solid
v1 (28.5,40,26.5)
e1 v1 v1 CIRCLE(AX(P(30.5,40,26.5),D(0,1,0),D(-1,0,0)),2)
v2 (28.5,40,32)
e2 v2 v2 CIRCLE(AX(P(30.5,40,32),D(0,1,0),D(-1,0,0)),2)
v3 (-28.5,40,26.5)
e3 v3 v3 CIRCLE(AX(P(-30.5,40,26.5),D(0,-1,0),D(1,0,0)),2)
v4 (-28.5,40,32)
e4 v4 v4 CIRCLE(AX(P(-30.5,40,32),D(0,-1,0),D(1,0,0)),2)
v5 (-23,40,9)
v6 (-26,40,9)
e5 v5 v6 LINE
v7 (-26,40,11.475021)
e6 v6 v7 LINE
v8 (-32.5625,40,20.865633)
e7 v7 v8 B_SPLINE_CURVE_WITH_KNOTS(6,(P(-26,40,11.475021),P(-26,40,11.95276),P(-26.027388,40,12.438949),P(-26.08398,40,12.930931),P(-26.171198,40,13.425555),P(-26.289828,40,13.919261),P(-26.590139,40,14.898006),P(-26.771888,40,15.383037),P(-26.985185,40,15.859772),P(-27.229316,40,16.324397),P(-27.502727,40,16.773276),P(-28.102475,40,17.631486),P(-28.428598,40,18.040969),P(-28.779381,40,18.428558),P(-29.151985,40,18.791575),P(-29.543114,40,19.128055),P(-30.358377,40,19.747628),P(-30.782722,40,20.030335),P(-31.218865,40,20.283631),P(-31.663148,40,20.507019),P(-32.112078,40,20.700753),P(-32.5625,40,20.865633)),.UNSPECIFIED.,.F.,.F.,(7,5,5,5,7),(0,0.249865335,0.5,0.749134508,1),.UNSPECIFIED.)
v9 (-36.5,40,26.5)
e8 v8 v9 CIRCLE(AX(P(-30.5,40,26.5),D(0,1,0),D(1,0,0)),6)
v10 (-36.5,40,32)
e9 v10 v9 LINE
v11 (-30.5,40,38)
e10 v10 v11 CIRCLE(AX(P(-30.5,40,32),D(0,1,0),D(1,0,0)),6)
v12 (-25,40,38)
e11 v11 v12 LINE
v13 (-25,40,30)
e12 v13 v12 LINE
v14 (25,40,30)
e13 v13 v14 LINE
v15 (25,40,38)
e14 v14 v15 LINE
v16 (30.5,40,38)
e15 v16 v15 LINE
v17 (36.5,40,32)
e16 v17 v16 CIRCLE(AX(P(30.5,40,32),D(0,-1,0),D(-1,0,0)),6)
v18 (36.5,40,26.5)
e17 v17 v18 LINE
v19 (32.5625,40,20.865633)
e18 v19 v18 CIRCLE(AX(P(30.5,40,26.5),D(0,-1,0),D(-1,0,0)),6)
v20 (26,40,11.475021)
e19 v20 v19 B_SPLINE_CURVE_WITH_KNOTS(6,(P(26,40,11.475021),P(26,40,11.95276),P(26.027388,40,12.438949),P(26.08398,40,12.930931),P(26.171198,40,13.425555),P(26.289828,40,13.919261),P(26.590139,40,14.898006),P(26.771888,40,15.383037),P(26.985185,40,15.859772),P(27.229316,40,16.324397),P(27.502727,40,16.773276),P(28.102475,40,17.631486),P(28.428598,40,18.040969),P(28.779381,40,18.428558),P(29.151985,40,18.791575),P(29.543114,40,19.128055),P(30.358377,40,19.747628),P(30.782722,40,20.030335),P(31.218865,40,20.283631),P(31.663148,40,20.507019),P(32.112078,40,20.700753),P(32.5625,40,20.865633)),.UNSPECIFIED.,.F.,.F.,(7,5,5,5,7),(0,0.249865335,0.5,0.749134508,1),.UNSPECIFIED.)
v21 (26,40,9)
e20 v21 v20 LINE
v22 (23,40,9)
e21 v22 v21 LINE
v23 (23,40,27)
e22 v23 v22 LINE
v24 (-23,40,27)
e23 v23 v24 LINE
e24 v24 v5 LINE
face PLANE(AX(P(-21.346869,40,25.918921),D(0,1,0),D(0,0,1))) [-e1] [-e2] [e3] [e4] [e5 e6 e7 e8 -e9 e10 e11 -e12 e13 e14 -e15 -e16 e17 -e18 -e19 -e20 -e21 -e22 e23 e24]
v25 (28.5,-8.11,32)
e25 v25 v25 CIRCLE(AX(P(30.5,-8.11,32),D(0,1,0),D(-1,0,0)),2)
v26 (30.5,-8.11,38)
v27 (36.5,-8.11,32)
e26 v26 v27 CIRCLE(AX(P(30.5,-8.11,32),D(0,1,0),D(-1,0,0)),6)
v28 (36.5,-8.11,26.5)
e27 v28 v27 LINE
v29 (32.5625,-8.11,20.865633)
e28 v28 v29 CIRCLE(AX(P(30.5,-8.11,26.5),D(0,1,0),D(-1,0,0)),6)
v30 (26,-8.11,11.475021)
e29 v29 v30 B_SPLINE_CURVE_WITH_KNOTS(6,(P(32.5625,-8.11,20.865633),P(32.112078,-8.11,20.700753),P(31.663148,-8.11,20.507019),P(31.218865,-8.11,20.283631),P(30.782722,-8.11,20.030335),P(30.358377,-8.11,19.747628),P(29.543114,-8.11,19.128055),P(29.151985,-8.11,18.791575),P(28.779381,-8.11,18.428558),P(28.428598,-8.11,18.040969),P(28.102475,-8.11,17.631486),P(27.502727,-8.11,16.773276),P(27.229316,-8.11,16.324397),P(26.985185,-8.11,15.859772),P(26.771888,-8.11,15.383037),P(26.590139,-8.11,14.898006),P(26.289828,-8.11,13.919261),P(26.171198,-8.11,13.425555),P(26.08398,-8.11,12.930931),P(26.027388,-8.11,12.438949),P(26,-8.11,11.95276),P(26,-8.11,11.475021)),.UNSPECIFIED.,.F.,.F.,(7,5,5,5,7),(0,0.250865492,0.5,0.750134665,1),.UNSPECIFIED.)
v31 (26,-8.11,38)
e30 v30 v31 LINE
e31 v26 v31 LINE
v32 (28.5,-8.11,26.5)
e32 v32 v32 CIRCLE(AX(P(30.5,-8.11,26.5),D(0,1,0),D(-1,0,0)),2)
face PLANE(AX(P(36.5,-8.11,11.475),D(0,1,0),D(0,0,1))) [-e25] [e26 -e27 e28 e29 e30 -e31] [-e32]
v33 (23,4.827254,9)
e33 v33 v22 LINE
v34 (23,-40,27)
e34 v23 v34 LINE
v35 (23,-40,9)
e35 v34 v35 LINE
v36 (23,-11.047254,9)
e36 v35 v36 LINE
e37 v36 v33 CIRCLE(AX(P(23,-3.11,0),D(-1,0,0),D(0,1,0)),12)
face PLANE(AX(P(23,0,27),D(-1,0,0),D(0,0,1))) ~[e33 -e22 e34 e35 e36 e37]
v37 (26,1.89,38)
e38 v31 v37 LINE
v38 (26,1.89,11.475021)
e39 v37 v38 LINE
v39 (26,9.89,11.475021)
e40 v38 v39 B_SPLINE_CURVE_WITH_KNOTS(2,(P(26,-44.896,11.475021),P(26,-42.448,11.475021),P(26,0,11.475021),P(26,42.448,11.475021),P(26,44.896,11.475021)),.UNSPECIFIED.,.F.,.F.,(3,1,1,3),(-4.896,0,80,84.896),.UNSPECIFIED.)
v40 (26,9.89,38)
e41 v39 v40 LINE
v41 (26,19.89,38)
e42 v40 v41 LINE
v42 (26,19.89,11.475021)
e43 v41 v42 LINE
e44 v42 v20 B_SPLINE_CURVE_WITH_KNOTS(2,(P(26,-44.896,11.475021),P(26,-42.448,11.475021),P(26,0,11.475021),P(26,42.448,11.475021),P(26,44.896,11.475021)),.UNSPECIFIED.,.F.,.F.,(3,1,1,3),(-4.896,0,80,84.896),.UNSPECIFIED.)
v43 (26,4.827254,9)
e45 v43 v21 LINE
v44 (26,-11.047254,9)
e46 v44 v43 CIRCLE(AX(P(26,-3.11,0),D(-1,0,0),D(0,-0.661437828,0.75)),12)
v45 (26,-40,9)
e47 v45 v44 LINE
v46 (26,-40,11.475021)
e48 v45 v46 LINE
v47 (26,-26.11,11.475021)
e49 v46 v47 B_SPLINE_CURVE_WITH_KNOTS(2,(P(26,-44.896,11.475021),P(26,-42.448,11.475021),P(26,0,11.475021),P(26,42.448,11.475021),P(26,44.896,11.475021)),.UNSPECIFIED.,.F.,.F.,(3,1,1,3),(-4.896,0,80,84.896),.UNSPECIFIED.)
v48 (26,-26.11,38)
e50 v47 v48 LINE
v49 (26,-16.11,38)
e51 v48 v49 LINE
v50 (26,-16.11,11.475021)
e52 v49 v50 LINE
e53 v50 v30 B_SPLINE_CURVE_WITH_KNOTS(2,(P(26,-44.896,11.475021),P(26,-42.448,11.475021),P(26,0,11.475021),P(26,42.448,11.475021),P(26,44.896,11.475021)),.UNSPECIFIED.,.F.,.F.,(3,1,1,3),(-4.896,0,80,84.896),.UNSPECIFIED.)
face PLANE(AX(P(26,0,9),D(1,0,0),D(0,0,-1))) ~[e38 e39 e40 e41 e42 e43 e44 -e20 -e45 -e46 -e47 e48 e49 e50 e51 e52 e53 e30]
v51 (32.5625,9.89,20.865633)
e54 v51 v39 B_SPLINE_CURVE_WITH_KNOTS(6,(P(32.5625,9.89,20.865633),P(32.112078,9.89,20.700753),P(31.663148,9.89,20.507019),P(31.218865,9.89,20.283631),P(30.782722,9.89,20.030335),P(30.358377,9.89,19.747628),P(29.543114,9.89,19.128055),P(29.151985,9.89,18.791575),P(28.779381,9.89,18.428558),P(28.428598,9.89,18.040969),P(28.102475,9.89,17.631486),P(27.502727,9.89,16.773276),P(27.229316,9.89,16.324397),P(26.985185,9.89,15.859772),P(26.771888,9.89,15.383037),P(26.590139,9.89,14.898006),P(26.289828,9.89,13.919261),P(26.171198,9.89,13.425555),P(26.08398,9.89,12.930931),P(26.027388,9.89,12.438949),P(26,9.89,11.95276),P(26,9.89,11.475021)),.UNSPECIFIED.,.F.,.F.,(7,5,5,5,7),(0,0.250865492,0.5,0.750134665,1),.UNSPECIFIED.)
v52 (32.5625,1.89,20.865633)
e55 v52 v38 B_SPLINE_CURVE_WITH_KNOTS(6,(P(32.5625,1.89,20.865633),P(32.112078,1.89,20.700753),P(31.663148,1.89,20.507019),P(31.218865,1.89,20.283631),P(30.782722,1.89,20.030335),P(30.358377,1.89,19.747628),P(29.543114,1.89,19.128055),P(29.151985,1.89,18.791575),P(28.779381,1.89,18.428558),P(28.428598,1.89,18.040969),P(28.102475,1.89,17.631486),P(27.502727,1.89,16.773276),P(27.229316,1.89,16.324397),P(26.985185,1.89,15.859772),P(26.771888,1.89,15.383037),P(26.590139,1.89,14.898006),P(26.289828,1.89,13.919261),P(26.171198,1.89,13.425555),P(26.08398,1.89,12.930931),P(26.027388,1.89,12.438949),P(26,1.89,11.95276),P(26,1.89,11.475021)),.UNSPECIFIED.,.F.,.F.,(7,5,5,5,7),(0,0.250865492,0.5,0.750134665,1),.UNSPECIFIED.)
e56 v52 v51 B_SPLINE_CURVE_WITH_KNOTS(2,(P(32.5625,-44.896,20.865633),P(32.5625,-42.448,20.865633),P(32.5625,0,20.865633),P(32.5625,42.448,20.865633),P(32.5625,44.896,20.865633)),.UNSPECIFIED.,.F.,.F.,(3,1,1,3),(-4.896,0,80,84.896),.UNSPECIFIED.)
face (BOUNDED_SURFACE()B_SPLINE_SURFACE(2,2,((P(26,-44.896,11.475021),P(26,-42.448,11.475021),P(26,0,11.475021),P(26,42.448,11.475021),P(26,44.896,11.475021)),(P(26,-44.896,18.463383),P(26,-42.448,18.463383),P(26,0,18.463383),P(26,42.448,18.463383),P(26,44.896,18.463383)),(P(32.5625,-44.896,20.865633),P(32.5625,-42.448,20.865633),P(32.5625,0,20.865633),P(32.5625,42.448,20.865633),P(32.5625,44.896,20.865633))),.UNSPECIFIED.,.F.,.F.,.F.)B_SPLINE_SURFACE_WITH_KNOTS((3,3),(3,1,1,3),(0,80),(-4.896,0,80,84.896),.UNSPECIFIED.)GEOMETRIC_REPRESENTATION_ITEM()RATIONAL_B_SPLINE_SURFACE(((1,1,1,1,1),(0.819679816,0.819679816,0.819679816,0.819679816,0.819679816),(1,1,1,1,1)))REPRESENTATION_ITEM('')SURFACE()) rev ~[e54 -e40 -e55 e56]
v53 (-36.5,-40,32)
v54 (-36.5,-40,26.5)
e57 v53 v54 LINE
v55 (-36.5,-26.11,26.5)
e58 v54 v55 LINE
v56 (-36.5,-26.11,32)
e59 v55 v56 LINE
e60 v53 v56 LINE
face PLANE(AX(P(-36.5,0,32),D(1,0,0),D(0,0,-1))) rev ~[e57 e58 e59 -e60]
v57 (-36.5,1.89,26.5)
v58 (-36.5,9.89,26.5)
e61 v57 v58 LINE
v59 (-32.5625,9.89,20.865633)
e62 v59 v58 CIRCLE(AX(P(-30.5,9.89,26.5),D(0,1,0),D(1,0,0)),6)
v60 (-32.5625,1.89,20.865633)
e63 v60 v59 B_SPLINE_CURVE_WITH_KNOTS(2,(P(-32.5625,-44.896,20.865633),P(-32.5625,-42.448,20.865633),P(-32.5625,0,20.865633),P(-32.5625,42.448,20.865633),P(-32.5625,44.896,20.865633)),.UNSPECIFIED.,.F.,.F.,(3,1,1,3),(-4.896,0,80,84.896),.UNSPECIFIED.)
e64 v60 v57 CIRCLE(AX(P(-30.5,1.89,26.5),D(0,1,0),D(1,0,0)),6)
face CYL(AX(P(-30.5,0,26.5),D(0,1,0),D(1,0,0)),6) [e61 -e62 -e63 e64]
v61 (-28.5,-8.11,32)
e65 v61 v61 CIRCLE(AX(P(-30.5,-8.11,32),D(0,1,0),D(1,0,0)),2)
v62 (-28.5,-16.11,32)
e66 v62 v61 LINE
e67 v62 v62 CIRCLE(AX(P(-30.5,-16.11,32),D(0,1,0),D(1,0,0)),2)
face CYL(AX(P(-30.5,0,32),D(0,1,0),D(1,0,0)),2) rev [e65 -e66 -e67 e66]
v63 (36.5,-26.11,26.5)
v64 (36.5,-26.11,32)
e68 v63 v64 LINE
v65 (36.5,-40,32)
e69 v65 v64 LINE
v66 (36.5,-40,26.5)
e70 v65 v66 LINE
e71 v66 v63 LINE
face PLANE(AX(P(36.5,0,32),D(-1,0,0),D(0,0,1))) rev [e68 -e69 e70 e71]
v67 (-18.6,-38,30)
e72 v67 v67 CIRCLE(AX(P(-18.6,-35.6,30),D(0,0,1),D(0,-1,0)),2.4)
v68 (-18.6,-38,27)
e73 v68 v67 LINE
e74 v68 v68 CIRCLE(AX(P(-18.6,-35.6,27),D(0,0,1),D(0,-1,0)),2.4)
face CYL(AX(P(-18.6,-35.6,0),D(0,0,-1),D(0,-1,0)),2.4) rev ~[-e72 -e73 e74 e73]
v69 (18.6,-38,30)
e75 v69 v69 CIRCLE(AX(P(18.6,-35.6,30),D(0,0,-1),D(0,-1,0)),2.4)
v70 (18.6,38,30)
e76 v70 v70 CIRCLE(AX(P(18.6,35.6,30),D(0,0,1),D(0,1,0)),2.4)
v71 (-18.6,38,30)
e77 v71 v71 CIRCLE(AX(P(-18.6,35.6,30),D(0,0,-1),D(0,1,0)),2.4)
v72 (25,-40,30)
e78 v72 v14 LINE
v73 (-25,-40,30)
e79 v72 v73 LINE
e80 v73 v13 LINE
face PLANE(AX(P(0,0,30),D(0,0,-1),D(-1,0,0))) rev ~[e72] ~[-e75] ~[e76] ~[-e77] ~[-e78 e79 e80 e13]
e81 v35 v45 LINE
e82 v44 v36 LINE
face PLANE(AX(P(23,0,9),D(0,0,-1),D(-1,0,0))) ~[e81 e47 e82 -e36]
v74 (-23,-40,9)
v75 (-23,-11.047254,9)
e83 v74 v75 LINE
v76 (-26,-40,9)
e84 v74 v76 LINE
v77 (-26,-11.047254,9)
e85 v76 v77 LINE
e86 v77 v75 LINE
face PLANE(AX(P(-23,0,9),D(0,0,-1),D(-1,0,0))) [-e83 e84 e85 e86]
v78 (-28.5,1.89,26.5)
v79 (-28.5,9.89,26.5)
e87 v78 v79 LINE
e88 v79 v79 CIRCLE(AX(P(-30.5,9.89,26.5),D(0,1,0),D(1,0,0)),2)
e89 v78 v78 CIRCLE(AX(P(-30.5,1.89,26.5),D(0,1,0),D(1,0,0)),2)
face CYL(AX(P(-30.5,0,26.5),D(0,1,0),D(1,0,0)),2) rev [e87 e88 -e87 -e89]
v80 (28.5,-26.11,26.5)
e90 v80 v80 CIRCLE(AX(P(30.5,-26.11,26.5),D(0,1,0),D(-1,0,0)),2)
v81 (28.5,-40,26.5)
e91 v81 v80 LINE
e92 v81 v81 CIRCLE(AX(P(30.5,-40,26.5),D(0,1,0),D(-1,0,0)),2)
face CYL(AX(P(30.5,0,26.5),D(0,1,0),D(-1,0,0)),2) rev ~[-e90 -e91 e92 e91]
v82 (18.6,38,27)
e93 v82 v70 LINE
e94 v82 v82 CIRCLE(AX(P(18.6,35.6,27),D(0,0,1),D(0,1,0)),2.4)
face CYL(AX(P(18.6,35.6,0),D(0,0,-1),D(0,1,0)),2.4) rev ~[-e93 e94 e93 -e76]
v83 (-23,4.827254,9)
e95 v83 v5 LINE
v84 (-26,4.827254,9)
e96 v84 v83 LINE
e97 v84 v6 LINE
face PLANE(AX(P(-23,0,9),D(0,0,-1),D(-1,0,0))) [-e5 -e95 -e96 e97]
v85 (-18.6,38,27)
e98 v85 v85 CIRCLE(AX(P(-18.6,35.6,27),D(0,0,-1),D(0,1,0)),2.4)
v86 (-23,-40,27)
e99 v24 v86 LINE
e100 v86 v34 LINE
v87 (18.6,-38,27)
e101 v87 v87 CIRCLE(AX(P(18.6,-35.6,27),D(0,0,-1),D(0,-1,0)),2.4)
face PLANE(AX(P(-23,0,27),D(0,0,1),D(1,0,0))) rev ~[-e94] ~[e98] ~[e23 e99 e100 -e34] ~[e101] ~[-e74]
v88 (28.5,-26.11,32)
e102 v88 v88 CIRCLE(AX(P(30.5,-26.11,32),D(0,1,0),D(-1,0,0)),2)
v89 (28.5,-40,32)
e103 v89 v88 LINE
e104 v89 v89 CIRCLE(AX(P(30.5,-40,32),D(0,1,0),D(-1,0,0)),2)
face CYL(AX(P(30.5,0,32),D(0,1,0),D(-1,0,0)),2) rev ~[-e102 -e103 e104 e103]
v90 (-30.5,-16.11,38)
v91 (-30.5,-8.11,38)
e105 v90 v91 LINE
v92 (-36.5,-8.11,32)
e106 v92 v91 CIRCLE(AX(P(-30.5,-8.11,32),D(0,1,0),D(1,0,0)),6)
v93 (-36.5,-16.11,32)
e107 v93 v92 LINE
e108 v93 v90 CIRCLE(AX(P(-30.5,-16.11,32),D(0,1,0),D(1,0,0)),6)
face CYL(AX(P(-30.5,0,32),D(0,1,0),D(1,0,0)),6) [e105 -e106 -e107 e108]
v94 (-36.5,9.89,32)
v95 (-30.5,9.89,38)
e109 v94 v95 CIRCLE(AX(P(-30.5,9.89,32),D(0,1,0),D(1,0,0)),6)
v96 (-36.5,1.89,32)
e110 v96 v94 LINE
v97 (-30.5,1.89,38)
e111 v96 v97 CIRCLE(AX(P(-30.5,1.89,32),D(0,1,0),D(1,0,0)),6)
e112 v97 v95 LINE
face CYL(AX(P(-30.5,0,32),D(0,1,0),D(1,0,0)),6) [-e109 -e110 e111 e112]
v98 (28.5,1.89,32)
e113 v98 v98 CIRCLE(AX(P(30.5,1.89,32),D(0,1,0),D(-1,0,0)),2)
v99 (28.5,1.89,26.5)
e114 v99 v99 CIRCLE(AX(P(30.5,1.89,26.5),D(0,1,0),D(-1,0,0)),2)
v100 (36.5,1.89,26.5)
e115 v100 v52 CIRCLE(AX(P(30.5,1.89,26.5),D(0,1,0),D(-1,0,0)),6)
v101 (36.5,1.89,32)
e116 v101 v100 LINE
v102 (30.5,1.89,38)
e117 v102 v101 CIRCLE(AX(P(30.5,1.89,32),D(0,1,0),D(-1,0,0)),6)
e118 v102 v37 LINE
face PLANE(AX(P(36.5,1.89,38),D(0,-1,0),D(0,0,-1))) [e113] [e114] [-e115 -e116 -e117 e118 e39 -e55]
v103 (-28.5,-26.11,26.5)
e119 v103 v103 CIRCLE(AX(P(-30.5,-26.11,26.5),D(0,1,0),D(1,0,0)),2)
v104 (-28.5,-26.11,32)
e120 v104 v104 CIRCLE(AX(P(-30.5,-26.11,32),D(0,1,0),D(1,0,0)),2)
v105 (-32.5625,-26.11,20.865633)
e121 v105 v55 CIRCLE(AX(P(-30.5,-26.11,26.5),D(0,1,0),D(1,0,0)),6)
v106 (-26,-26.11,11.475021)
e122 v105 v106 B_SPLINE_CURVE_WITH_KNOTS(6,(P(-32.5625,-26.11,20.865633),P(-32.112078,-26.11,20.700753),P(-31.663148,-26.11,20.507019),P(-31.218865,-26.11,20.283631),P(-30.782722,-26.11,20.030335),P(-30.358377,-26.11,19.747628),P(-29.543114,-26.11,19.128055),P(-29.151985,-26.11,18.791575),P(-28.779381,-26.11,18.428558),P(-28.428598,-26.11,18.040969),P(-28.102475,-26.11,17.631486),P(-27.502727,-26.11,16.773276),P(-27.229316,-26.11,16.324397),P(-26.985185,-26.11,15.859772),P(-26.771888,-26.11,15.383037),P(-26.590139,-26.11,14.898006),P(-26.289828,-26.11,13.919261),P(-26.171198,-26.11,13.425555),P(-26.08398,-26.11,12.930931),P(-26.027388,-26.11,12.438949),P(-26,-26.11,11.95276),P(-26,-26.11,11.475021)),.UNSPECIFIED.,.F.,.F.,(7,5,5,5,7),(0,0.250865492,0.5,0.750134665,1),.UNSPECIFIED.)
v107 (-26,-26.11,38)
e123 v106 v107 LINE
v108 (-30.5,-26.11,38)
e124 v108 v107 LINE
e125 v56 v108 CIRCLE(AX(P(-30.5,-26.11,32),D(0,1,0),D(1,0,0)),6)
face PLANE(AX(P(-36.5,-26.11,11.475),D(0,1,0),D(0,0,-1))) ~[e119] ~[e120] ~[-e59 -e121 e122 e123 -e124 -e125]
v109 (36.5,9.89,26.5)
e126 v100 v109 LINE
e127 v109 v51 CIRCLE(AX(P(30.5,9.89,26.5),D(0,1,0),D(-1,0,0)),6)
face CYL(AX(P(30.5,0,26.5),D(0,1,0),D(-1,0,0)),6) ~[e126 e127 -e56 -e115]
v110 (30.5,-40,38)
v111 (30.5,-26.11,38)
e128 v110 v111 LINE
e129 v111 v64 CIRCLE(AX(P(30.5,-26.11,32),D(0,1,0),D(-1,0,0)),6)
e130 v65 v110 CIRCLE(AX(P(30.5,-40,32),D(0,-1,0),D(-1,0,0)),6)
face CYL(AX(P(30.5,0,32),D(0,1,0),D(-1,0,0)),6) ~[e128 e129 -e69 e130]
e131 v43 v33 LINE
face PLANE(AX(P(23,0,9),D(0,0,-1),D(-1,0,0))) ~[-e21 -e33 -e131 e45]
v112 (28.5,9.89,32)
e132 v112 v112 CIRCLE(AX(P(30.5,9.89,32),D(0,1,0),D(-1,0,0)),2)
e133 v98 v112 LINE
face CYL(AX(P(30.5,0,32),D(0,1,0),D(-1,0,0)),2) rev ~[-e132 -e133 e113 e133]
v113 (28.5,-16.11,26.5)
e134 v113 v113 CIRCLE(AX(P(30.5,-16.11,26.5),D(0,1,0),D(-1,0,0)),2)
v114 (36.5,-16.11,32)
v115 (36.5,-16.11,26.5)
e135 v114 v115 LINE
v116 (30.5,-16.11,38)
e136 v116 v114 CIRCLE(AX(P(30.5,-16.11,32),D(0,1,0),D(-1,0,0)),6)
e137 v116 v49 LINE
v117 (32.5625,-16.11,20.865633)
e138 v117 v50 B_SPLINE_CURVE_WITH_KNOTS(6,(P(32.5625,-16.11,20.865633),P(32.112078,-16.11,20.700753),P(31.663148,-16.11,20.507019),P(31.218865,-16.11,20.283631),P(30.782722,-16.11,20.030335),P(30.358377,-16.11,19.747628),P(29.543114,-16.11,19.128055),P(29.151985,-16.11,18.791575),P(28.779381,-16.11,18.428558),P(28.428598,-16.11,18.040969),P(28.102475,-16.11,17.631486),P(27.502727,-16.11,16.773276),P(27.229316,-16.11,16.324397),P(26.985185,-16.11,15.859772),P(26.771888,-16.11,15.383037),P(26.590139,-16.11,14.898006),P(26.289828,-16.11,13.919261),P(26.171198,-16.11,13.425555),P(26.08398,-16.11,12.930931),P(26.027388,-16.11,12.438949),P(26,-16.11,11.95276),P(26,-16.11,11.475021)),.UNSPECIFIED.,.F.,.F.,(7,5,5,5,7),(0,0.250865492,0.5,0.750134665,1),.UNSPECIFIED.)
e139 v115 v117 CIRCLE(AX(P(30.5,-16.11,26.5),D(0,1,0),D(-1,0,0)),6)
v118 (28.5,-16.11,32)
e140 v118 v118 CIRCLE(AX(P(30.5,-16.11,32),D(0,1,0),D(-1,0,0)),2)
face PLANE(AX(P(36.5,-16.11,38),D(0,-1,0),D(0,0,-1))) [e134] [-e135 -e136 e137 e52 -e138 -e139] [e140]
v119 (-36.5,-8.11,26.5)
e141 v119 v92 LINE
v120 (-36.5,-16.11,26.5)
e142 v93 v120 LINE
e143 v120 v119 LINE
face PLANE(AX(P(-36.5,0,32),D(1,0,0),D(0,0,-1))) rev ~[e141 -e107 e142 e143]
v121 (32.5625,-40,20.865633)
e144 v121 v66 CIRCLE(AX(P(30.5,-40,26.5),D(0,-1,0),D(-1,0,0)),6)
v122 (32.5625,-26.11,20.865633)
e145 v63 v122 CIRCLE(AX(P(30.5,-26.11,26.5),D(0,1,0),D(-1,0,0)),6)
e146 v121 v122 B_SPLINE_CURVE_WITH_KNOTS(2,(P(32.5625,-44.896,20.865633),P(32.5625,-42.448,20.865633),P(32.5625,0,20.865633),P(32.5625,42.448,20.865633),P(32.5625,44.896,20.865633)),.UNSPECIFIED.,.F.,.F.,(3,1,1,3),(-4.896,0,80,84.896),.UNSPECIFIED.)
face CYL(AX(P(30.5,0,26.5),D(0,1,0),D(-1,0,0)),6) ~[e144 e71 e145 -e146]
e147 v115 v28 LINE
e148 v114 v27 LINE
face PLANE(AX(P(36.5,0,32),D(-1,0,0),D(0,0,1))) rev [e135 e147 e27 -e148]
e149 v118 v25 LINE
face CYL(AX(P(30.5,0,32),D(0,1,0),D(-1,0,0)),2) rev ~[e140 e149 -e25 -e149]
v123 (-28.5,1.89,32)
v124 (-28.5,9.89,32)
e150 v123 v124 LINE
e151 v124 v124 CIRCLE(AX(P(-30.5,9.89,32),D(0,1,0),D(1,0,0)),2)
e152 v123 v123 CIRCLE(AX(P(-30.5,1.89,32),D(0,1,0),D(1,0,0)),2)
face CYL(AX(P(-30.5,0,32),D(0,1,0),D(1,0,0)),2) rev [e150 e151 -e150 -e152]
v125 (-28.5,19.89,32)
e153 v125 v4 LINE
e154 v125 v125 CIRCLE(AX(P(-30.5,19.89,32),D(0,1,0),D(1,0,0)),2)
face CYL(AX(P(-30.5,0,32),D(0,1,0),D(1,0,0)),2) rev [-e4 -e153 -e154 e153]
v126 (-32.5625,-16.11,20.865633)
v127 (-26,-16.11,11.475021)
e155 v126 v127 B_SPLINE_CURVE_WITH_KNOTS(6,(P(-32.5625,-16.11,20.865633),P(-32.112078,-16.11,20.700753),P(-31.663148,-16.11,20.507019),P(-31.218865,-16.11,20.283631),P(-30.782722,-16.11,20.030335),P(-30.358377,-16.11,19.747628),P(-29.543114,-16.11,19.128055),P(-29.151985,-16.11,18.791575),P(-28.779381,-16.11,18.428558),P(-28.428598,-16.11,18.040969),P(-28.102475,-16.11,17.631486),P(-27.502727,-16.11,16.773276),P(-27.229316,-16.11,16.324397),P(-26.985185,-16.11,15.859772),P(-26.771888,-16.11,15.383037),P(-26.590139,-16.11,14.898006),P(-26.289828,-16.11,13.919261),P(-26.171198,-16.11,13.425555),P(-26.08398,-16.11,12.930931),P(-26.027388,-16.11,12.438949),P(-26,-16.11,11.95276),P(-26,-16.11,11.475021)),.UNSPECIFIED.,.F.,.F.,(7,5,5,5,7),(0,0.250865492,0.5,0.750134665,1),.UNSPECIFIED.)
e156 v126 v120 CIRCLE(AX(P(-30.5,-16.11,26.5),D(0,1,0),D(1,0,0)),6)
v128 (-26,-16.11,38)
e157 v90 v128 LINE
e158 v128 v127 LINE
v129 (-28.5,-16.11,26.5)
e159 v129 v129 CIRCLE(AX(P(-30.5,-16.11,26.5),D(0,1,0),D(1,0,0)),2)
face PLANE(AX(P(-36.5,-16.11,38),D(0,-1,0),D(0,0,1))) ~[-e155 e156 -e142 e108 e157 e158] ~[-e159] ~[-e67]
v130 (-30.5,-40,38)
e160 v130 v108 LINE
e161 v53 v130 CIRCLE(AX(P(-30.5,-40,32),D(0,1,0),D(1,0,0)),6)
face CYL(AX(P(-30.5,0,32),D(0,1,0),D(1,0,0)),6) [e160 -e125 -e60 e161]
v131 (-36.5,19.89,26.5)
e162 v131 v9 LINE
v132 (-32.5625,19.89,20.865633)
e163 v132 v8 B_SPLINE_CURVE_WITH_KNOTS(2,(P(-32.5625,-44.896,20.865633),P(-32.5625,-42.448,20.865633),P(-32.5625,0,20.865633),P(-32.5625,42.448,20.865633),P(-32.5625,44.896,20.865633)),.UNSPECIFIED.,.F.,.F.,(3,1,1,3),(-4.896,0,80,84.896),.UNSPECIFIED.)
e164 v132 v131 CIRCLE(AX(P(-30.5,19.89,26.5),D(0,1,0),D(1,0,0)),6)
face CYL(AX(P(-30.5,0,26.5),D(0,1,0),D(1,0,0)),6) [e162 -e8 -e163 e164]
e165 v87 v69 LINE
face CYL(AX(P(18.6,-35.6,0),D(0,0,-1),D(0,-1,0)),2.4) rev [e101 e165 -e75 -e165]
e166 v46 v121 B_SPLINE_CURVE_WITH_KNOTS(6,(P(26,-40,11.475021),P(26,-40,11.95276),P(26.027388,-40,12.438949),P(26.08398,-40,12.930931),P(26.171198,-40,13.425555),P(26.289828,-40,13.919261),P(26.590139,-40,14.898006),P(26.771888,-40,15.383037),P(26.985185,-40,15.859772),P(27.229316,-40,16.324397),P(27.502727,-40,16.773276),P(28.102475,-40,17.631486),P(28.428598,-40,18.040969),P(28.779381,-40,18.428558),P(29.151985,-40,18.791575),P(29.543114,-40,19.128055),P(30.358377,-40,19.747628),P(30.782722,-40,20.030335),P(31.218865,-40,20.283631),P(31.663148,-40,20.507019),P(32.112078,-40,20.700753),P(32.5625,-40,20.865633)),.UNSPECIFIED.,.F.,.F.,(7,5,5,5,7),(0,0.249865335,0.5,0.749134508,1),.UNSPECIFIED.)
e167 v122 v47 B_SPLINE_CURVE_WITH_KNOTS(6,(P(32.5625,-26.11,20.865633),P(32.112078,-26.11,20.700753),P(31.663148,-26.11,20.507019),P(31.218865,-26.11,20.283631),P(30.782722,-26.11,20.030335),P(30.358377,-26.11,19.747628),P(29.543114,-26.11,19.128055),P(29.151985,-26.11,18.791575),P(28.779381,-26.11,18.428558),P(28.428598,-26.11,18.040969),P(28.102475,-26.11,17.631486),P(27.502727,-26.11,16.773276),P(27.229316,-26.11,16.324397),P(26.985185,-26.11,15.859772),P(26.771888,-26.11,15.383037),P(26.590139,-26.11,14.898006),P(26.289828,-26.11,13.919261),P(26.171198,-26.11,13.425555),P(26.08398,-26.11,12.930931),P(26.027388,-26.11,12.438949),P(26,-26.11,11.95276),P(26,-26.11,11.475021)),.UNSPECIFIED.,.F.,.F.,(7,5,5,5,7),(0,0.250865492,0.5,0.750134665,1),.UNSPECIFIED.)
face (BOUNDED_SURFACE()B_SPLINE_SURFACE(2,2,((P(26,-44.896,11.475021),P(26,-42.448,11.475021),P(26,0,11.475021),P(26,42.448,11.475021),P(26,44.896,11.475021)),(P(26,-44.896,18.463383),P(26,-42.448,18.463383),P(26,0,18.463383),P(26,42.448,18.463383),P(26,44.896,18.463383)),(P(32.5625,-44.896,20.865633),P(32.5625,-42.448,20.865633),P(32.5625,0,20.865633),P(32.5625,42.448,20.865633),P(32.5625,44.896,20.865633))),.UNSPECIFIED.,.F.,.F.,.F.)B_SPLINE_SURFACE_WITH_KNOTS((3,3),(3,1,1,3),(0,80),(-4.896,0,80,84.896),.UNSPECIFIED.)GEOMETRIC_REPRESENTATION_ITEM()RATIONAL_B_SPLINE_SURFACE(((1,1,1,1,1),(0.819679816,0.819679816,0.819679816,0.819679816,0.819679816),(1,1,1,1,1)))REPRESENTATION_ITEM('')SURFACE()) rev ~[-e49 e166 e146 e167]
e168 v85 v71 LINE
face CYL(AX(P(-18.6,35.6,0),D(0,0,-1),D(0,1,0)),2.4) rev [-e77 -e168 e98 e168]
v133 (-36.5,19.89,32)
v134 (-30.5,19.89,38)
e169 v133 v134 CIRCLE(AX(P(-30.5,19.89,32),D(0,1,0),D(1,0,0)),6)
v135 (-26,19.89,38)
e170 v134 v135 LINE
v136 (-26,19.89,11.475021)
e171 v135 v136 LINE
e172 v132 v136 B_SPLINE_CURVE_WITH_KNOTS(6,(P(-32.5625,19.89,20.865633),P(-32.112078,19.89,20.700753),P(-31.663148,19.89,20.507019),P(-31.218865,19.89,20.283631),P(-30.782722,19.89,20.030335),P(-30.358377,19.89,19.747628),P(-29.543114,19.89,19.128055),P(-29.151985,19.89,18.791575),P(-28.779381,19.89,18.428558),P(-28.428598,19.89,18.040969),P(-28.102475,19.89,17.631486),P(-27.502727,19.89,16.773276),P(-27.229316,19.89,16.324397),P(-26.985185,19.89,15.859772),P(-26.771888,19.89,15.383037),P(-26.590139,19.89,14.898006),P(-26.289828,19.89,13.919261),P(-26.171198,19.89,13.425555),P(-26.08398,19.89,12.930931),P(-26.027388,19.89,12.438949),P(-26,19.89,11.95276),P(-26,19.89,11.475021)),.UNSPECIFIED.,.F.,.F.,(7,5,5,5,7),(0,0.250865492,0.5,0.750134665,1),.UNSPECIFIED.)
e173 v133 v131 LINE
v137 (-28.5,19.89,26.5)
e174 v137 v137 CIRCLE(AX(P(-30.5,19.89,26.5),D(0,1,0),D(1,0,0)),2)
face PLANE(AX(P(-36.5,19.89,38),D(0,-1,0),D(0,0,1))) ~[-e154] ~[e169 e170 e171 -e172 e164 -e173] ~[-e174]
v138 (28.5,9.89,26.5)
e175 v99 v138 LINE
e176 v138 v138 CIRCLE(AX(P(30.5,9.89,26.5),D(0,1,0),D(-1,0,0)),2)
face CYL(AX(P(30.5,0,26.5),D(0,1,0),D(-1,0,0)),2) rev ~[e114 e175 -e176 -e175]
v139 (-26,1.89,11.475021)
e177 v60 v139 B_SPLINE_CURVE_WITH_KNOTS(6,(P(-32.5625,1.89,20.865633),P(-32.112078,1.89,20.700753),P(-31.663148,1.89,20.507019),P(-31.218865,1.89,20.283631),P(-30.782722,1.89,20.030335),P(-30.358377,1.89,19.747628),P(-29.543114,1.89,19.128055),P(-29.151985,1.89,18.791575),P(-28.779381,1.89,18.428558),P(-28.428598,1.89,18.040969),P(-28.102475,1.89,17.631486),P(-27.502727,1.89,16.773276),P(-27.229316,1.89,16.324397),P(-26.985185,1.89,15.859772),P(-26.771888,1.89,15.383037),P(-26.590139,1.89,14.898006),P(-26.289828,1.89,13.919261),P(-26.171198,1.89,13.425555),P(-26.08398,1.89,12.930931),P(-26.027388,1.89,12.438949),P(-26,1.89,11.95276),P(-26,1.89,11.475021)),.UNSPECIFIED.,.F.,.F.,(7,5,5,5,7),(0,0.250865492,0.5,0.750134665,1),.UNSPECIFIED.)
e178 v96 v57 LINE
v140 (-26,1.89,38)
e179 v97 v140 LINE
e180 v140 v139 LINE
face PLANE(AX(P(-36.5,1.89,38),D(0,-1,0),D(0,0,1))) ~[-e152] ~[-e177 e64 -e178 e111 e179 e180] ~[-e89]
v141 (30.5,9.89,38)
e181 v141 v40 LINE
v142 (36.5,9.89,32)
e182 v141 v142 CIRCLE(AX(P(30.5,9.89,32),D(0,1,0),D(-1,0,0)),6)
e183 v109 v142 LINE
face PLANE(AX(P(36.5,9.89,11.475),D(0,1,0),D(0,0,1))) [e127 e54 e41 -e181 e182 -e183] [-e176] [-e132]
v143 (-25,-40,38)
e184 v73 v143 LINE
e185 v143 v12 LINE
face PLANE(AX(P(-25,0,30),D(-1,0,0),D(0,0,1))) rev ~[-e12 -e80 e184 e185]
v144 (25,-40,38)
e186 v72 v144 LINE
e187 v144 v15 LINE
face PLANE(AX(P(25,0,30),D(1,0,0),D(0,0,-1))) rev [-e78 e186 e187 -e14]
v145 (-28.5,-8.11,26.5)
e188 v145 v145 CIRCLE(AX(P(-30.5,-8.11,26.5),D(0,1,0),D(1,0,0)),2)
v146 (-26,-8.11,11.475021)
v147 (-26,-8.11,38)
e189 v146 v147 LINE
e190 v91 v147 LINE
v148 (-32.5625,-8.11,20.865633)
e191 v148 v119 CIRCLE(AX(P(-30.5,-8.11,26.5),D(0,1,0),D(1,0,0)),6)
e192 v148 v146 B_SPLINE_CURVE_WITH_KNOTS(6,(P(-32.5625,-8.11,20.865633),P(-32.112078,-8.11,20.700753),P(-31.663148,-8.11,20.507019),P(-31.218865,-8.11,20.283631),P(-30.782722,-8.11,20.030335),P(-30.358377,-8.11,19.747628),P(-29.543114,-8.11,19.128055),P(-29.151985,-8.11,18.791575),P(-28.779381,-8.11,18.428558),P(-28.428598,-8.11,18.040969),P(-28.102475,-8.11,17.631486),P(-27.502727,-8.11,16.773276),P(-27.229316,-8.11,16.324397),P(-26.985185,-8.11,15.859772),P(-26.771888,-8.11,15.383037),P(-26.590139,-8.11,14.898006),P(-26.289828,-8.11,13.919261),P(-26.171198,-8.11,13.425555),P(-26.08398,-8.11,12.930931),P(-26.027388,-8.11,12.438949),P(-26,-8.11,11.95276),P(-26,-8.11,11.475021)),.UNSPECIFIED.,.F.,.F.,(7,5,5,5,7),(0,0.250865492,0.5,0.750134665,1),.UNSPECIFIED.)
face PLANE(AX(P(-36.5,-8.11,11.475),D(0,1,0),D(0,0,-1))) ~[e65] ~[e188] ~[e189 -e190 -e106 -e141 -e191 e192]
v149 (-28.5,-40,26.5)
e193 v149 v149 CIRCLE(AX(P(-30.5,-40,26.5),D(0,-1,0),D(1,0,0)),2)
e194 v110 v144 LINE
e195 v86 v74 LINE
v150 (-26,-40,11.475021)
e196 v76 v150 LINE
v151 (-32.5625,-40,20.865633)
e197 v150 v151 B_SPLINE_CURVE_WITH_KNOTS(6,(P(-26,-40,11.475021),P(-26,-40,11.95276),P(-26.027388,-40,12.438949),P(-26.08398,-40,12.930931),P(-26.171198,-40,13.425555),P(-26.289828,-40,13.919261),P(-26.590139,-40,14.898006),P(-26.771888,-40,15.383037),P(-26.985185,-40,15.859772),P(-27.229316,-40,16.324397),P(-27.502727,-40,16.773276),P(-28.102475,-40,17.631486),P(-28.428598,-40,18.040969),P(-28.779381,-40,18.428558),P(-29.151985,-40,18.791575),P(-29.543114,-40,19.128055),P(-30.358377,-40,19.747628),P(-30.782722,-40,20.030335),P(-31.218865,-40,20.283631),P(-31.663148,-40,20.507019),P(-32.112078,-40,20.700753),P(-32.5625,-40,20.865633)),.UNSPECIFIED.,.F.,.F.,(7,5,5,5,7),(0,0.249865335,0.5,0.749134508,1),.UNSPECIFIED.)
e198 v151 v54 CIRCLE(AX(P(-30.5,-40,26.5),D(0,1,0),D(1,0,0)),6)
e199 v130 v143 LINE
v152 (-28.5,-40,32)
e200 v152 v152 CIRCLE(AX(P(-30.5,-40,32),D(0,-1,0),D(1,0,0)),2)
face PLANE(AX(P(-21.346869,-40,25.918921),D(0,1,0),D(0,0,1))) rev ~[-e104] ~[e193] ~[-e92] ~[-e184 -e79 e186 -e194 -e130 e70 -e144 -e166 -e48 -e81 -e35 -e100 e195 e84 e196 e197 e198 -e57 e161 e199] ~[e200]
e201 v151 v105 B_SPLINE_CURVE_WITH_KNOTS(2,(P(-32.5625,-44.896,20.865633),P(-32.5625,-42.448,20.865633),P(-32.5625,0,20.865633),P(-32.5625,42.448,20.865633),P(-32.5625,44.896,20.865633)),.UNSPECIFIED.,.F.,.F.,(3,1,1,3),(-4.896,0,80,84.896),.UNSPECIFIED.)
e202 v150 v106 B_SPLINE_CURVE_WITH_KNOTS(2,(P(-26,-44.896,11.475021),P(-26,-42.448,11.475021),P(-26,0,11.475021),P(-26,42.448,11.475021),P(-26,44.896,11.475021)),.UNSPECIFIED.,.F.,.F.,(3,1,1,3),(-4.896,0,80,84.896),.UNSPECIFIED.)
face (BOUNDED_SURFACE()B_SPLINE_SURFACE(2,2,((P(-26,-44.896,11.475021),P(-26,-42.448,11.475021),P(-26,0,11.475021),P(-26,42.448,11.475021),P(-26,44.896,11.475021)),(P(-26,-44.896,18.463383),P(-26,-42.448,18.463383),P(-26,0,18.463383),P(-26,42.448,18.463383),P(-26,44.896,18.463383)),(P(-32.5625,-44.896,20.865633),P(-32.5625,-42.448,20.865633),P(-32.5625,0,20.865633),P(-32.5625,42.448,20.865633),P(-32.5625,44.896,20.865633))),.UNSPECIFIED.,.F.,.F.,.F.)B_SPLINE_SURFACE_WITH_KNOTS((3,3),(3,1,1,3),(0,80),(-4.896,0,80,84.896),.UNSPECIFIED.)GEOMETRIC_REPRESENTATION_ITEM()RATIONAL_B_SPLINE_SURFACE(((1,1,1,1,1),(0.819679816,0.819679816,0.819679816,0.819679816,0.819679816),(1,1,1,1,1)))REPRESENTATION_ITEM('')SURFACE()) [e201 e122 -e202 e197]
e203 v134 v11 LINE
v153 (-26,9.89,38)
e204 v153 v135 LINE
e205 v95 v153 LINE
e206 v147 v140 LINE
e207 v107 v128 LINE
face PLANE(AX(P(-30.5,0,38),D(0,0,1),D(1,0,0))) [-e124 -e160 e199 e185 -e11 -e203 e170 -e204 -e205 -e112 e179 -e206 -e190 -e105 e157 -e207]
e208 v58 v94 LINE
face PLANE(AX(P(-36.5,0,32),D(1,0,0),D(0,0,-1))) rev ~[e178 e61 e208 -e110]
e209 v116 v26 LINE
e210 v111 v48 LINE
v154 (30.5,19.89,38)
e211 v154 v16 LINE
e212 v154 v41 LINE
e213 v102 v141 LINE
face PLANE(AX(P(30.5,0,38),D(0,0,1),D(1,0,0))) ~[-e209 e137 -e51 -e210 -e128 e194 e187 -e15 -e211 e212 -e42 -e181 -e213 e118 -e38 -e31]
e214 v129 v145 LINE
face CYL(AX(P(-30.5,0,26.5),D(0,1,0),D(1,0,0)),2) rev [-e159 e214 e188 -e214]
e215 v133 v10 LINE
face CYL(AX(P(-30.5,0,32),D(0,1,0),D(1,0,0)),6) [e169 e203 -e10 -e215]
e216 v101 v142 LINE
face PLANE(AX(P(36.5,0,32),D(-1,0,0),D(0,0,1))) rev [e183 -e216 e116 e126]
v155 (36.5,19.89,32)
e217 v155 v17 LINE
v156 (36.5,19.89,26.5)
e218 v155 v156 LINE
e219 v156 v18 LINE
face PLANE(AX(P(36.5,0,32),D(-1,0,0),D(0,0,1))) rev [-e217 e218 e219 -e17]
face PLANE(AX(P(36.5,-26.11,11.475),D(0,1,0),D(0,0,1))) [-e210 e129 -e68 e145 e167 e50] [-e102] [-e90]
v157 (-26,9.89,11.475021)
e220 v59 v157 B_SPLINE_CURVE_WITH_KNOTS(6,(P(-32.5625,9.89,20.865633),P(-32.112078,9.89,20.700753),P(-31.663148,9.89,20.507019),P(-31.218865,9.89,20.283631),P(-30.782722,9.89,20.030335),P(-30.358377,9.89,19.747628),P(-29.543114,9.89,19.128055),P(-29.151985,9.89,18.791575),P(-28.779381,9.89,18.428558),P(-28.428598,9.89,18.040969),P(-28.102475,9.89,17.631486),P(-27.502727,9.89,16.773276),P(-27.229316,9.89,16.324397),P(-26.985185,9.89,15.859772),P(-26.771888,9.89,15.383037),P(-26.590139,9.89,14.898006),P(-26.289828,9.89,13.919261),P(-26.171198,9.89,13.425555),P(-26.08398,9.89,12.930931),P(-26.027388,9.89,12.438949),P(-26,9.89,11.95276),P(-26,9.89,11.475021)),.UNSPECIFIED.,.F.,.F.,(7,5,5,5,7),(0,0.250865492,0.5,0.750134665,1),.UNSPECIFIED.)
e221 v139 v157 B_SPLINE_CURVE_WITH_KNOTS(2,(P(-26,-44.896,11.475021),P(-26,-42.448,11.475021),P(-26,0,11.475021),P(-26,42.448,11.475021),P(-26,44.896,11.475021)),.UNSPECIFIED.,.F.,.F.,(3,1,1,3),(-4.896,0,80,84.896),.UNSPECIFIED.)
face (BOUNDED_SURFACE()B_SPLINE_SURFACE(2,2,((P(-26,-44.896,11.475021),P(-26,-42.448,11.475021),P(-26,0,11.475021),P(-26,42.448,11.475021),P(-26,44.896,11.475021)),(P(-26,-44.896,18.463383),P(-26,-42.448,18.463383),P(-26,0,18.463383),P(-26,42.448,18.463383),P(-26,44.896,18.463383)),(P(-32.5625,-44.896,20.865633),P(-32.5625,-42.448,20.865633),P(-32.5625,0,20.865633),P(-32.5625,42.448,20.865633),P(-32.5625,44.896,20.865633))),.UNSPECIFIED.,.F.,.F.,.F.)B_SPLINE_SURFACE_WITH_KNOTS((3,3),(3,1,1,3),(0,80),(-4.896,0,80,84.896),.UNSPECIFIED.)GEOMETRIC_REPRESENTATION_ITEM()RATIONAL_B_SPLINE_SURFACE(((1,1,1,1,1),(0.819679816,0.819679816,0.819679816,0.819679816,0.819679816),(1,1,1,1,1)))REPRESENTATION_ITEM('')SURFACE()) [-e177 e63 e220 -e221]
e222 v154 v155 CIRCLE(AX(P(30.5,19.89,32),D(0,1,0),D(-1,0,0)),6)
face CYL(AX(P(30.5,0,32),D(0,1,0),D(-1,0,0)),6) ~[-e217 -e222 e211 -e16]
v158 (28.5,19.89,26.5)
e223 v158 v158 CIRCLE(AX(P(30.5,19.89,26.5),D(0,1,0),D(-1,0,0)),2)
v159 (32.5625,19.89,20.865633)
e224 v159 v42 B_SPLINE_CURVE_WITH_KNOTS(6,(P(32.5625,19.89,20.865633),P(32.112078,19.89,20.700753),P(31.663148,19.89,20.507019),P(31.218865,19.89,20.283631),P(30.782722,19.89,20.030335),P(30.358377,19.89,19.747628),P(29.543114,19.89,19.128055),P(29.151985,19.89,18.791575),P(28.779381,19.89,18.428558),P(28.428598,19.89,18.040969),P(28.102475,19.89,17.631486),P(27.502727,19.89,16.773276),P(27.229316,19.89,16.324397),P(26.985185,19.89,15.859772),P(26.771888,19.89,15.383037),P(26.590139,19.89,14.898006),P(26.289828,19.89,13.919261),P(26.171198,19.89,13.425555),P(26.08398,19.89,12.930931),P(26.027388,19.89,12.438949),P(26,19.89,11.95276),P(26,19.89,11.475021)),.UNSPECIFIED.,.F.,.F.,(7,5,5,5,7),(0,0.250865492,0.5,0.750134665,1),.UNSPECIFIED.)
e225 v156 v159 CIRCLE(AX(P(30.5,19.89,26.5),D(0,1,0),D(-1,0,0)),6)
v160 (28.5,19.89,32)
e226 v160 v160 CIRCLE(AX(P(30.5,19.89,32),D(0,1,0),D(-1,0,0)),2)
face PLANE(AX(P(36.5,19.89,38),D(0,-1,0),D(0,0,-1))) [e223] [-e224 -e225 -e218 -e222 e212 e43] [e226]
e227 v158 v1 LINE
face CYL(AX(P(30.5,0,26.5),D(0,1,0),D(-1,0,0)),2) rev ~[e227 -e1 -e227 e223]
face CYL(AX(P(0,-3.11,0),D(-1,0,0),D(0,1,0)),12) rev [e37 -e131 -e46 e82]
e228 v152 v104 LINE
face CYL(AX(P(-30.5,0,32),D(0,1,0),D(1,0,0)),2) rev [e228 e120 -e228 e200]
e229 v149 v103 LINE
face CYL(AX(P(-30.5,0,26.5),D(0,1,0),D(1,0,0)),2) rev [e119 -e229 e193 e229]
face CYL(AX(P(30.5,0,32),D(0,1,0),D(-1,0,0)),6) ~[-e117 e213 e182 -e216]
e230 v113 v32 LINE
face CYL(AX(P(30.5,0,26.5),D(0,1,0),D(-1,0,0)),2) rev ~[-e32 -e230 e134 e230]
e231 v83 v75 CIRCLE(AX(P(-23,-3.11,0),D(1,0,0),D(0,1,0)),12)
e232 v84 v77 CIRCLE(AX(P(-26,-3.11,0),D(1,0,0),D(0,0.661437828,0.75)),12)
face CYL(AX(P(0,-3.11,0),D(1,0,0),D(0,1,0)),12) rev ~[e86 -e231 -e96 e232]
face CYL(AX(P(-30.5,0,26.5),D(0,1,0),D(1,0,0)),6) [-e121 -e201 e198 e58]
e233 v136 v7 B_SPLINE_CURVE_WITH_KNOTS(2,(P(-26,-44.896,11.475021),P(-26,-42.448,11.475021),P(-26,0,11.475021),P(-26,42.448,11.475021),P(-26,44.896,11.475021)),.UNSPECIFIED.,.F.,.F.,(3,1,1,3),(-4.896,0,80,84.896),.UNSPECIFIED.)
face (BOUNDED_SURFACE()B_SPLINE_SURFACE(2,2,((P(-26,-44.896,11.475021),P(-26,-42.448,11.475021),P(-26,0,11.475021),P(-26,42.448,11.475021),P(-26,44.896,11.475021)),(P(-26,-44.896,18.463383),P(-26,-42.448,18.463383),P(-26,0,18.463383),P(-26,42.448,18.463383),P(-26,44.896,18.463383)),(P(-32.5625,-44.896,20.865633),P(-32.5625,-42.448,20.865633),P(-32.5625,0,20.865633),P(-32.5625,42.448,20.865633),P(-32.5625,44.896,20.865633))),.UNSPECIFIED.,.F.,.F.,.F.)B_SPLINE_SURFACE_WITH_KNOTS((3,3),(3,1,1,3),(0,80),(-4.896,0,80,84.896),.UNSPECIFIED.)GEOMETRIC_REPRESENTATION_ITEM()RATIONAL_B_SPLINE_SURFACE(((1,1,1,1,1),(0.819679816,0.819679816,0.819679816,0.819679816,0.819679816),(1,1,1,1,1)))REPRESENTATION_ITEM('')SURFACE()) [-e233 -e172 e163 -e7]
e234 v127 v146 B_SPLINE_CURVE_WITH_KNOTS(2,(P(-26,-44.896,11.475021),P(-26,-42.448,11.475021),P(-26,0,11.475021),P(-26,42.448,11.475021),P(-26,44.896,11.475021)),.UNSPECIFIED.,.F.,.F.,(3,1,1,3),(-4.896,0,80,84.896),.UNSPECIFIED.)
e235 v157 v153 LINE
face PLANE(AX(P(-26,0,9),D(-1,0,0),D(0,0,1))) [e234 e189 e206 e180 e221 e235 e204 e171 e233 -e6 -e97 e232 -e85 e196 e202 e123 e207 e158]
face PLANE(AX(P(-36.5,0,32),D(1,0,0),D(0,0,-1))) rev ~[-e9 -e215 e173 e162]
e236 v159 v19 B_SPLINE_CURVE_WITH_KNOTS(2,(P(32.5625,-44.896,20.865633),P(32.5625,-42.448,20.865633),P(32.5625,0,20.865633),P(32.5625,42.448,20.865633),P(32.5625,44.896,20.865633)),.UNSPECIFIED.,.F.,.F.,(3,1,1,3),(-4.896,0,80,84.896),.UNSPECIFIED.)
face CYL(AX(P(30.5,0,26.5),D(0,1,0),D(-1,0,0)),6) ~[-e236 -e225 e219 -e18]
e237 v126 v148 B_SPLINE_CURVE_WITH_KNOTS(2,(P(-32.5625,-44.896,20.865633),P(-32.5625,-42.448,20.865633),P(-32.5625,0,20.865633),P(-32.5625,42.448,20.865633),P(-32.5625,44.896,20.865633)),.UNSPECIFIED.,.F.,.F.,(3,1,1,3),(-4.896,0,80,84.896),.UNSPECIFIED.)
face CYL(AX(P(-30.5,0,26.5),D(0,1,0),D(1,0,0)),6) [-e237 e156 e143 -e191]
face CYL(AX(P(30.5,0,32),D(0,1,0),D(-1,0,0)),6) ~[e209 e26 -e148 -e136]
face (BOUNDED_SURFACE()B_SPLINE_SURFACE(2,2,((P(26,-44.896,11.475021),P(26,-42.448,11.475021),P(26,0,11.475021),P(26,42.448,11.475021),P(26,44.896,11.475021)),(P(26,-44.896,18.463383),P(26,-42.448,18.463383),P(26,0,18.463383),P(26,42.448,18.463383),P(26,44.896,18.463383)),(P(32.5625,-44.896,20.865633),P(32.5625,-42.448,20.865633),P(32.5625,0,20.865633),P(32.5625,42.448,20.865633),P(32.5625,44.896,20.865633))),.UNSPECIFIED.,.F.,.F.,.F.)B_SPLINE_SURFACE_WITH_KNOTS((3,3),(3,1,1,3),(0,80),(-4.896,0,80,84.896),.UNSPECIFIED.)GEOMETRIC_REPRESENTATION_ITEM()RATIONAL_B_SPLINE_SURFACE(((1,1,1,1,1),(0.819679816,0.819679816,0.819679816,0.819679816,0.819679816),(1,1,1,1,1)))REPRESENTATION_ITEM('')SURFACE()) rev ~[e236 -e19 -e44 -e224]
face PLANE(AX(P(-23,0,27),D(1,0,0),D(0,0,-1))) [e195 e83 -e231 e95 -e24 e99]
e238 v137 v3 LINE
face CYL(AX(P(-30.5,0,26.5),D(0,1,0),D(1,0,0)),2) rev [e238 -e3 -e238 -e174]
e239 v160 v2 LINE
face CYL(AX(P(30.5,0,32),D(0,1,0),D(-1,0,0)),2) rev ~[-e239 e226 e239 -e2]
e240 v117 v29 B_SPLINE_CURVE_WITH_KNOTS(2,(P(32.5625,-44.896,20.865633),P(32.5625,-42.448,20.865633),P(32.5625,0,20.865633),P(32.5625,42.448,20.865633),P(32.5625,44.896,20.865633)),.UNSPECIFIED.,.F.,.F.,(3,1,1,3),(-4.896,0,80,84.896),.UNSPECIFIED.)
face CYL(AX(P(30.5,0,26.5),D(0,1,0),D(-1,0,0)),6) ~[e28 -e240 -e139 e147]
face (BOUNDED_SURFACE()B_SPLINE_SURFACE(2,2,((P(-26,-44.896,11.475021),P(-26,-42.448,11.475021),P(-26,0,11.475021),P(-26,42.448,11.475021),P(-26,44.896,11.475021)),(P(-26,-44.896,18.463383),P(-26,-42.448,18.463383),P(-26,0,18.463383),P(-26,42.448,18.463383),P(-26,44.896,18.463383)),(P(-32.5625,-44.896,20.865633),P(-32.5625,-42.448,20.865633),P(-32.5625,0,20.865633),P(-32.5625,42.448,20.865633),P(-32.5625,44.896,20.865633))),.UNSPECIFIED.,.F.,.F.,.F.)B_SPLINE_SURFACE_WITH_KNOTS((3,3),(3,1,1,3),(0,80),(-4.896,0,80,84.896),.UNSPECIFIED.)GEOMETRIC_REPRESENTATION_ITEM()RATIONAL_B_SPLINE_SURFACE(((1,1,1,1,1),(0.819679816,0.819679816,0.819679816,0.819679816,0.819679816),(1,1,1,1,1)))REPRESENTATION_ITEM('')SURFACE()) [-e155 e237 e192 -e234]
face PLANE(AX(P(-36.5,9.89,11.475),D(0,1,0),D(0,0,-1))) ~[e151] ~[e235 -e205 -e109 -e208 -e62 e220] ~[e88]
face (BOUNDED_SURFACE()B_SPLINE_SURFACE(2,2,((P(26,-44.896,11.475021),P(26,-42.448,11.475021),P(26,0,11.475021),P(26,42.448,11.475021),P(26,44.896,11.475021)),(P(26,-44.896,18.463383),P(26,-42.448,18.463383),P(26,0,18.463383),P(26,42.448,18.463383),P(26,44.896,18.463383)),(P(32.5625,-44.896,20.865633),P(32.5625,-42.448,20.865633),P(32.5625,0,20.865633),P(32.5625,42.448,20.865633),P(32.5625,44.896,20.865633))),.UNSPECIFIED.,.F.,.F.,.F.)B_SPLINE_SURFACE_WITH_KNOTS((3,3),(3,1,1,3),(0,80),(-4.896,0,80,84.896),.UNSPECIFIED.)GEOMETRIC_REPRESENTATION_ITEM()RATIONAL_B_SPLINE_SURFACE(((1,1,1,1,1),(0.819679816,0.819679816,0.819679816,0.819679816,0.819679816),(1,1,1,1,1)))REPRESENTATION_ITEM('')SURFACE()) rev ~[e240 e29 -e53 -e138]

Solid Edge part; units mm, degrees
sketch "Sketch1" plane through (0, 0, 0) normal (0, -1, 0) x (1, 0, 0)
  circle A0 centre (-30.5, 32) radius 2
  line L0 (-23, 27) -> (-23, 9)
  line L1 (-23, 9) -> (-26, 9)
  line L2 (-26, 9) -> (-26, 20.5)
  line L3 (-30.5, 20.5) -> (-26, 20.5)
  line L4 (-36.5, 32) -> (-36.5, 26.5)
  line L5 (-30.5, 38) -> (-25, 38)
  line L6 (-25, 30) -> (-25, 38)
  line L7 (0, 30) -> (-25, 30)
  line L8 (0, 27) -> (0, 30)
  line L9 (-23, 27) -> (0, 27)
  arc A1 (-30.5, 20.5) -> (-36.5, 26.5) centre (-30.5, 26.5) cw
  arc A2 (-36.5, 32) -> (-30.5, 38) centre (-30.5, 32) cw
  circle A3 centre (-30.5, 26.5) radius 2
  dimension "D1" = 23
  dimension "D2" = 23
  dimension "D3" = 23
  dimension "D4" = 23
extrude "Protrusion1" add sketch "Sketch1" along normal mid plane 80
mirror "Mirror1" about plane through (0, 0, 0) normal (1, 0, 0) of "Protrusion1"
fillet "Verrundung_1" radius 10 2 edges at (-26, 0, 20.5) (26, 0, 20.5)
hole "Bohrung_1" at (-18.6, 35.6, 0) direction (0, 0, 1) diameter 4.8 end up to next
sketch "Sketch2" plane through (0, 0, 0) normal (1, 0, 0) x (0, 1, 0)
  circle A0 centre (-3.11, 0) radius 12
  dimension "D1" = 9
  dimension "D2" = 24
  dimension "D3" = 43.11
extrude "Cutout1" cut sketch "Sketch2" along normal through all and the other way through all
fillet "Verrundung_2" [suppressed]
extrude "Cutout2" [suppressed]
mirror "Mirror2" about plane through (0, 0, 0) normal (1, 0, 0) of "Bohrung_1"
mirror "Mirror3" about plane through (0, 0, 0) normal (0, -1, 0) of "Bohrung_1", "Mirror2"
sketch "Sketch3" plane through (36.5, 0, 29.25) normal (1, 0, 0) x (0, 1, 0)
  line L0 (-26.11, 8.75) -> (-16.11, 8.75)
  line L1 (-16.11, 8.75) -> (-16.11, -17.775)
  line L2 (-16.11, -17.775) -> (-26.11, -17.775)
  line L3 (-26.11, -17.775) -> (-26.11, 8.75)
  line L4 (9.89, 8.75) -> (19.89, 8.75)
  line L5 (19.89, 8.75) -> (19.89, -17.775)
  line L6 (19.89, -17.775) -> (9.89, -17.775)
  line L7 (9.89, -17.775) -> (9.89, 8.75)
  line L8 (-8.11, 8.75) -> (1.89, 8.75)
  line L9 (1.89, 8.75) -> (1.89, -17.775)
  line L10 (1.89, -17.775) -> (-8.11, -17.775)
  line L11 (-8.11, -17.775) -> (-8.11, 8.75)
  dimension "D1" = 13.89
  dimension "D2" = 10
  dimension "D3" = 10
  dimension "D4" = 10
  dimension "D5" = 26
  dimension "D6" = 13
extrude "Extrusionsausschnitt_10" cut sketch "Sketch3" against normal blind 10.5
mirror "Mirror4" about plane through (0, 0, 0) normal (1, 0, 0) of "Extrusionsausschnitt_10"
properties material "Nylon, allgemein"
